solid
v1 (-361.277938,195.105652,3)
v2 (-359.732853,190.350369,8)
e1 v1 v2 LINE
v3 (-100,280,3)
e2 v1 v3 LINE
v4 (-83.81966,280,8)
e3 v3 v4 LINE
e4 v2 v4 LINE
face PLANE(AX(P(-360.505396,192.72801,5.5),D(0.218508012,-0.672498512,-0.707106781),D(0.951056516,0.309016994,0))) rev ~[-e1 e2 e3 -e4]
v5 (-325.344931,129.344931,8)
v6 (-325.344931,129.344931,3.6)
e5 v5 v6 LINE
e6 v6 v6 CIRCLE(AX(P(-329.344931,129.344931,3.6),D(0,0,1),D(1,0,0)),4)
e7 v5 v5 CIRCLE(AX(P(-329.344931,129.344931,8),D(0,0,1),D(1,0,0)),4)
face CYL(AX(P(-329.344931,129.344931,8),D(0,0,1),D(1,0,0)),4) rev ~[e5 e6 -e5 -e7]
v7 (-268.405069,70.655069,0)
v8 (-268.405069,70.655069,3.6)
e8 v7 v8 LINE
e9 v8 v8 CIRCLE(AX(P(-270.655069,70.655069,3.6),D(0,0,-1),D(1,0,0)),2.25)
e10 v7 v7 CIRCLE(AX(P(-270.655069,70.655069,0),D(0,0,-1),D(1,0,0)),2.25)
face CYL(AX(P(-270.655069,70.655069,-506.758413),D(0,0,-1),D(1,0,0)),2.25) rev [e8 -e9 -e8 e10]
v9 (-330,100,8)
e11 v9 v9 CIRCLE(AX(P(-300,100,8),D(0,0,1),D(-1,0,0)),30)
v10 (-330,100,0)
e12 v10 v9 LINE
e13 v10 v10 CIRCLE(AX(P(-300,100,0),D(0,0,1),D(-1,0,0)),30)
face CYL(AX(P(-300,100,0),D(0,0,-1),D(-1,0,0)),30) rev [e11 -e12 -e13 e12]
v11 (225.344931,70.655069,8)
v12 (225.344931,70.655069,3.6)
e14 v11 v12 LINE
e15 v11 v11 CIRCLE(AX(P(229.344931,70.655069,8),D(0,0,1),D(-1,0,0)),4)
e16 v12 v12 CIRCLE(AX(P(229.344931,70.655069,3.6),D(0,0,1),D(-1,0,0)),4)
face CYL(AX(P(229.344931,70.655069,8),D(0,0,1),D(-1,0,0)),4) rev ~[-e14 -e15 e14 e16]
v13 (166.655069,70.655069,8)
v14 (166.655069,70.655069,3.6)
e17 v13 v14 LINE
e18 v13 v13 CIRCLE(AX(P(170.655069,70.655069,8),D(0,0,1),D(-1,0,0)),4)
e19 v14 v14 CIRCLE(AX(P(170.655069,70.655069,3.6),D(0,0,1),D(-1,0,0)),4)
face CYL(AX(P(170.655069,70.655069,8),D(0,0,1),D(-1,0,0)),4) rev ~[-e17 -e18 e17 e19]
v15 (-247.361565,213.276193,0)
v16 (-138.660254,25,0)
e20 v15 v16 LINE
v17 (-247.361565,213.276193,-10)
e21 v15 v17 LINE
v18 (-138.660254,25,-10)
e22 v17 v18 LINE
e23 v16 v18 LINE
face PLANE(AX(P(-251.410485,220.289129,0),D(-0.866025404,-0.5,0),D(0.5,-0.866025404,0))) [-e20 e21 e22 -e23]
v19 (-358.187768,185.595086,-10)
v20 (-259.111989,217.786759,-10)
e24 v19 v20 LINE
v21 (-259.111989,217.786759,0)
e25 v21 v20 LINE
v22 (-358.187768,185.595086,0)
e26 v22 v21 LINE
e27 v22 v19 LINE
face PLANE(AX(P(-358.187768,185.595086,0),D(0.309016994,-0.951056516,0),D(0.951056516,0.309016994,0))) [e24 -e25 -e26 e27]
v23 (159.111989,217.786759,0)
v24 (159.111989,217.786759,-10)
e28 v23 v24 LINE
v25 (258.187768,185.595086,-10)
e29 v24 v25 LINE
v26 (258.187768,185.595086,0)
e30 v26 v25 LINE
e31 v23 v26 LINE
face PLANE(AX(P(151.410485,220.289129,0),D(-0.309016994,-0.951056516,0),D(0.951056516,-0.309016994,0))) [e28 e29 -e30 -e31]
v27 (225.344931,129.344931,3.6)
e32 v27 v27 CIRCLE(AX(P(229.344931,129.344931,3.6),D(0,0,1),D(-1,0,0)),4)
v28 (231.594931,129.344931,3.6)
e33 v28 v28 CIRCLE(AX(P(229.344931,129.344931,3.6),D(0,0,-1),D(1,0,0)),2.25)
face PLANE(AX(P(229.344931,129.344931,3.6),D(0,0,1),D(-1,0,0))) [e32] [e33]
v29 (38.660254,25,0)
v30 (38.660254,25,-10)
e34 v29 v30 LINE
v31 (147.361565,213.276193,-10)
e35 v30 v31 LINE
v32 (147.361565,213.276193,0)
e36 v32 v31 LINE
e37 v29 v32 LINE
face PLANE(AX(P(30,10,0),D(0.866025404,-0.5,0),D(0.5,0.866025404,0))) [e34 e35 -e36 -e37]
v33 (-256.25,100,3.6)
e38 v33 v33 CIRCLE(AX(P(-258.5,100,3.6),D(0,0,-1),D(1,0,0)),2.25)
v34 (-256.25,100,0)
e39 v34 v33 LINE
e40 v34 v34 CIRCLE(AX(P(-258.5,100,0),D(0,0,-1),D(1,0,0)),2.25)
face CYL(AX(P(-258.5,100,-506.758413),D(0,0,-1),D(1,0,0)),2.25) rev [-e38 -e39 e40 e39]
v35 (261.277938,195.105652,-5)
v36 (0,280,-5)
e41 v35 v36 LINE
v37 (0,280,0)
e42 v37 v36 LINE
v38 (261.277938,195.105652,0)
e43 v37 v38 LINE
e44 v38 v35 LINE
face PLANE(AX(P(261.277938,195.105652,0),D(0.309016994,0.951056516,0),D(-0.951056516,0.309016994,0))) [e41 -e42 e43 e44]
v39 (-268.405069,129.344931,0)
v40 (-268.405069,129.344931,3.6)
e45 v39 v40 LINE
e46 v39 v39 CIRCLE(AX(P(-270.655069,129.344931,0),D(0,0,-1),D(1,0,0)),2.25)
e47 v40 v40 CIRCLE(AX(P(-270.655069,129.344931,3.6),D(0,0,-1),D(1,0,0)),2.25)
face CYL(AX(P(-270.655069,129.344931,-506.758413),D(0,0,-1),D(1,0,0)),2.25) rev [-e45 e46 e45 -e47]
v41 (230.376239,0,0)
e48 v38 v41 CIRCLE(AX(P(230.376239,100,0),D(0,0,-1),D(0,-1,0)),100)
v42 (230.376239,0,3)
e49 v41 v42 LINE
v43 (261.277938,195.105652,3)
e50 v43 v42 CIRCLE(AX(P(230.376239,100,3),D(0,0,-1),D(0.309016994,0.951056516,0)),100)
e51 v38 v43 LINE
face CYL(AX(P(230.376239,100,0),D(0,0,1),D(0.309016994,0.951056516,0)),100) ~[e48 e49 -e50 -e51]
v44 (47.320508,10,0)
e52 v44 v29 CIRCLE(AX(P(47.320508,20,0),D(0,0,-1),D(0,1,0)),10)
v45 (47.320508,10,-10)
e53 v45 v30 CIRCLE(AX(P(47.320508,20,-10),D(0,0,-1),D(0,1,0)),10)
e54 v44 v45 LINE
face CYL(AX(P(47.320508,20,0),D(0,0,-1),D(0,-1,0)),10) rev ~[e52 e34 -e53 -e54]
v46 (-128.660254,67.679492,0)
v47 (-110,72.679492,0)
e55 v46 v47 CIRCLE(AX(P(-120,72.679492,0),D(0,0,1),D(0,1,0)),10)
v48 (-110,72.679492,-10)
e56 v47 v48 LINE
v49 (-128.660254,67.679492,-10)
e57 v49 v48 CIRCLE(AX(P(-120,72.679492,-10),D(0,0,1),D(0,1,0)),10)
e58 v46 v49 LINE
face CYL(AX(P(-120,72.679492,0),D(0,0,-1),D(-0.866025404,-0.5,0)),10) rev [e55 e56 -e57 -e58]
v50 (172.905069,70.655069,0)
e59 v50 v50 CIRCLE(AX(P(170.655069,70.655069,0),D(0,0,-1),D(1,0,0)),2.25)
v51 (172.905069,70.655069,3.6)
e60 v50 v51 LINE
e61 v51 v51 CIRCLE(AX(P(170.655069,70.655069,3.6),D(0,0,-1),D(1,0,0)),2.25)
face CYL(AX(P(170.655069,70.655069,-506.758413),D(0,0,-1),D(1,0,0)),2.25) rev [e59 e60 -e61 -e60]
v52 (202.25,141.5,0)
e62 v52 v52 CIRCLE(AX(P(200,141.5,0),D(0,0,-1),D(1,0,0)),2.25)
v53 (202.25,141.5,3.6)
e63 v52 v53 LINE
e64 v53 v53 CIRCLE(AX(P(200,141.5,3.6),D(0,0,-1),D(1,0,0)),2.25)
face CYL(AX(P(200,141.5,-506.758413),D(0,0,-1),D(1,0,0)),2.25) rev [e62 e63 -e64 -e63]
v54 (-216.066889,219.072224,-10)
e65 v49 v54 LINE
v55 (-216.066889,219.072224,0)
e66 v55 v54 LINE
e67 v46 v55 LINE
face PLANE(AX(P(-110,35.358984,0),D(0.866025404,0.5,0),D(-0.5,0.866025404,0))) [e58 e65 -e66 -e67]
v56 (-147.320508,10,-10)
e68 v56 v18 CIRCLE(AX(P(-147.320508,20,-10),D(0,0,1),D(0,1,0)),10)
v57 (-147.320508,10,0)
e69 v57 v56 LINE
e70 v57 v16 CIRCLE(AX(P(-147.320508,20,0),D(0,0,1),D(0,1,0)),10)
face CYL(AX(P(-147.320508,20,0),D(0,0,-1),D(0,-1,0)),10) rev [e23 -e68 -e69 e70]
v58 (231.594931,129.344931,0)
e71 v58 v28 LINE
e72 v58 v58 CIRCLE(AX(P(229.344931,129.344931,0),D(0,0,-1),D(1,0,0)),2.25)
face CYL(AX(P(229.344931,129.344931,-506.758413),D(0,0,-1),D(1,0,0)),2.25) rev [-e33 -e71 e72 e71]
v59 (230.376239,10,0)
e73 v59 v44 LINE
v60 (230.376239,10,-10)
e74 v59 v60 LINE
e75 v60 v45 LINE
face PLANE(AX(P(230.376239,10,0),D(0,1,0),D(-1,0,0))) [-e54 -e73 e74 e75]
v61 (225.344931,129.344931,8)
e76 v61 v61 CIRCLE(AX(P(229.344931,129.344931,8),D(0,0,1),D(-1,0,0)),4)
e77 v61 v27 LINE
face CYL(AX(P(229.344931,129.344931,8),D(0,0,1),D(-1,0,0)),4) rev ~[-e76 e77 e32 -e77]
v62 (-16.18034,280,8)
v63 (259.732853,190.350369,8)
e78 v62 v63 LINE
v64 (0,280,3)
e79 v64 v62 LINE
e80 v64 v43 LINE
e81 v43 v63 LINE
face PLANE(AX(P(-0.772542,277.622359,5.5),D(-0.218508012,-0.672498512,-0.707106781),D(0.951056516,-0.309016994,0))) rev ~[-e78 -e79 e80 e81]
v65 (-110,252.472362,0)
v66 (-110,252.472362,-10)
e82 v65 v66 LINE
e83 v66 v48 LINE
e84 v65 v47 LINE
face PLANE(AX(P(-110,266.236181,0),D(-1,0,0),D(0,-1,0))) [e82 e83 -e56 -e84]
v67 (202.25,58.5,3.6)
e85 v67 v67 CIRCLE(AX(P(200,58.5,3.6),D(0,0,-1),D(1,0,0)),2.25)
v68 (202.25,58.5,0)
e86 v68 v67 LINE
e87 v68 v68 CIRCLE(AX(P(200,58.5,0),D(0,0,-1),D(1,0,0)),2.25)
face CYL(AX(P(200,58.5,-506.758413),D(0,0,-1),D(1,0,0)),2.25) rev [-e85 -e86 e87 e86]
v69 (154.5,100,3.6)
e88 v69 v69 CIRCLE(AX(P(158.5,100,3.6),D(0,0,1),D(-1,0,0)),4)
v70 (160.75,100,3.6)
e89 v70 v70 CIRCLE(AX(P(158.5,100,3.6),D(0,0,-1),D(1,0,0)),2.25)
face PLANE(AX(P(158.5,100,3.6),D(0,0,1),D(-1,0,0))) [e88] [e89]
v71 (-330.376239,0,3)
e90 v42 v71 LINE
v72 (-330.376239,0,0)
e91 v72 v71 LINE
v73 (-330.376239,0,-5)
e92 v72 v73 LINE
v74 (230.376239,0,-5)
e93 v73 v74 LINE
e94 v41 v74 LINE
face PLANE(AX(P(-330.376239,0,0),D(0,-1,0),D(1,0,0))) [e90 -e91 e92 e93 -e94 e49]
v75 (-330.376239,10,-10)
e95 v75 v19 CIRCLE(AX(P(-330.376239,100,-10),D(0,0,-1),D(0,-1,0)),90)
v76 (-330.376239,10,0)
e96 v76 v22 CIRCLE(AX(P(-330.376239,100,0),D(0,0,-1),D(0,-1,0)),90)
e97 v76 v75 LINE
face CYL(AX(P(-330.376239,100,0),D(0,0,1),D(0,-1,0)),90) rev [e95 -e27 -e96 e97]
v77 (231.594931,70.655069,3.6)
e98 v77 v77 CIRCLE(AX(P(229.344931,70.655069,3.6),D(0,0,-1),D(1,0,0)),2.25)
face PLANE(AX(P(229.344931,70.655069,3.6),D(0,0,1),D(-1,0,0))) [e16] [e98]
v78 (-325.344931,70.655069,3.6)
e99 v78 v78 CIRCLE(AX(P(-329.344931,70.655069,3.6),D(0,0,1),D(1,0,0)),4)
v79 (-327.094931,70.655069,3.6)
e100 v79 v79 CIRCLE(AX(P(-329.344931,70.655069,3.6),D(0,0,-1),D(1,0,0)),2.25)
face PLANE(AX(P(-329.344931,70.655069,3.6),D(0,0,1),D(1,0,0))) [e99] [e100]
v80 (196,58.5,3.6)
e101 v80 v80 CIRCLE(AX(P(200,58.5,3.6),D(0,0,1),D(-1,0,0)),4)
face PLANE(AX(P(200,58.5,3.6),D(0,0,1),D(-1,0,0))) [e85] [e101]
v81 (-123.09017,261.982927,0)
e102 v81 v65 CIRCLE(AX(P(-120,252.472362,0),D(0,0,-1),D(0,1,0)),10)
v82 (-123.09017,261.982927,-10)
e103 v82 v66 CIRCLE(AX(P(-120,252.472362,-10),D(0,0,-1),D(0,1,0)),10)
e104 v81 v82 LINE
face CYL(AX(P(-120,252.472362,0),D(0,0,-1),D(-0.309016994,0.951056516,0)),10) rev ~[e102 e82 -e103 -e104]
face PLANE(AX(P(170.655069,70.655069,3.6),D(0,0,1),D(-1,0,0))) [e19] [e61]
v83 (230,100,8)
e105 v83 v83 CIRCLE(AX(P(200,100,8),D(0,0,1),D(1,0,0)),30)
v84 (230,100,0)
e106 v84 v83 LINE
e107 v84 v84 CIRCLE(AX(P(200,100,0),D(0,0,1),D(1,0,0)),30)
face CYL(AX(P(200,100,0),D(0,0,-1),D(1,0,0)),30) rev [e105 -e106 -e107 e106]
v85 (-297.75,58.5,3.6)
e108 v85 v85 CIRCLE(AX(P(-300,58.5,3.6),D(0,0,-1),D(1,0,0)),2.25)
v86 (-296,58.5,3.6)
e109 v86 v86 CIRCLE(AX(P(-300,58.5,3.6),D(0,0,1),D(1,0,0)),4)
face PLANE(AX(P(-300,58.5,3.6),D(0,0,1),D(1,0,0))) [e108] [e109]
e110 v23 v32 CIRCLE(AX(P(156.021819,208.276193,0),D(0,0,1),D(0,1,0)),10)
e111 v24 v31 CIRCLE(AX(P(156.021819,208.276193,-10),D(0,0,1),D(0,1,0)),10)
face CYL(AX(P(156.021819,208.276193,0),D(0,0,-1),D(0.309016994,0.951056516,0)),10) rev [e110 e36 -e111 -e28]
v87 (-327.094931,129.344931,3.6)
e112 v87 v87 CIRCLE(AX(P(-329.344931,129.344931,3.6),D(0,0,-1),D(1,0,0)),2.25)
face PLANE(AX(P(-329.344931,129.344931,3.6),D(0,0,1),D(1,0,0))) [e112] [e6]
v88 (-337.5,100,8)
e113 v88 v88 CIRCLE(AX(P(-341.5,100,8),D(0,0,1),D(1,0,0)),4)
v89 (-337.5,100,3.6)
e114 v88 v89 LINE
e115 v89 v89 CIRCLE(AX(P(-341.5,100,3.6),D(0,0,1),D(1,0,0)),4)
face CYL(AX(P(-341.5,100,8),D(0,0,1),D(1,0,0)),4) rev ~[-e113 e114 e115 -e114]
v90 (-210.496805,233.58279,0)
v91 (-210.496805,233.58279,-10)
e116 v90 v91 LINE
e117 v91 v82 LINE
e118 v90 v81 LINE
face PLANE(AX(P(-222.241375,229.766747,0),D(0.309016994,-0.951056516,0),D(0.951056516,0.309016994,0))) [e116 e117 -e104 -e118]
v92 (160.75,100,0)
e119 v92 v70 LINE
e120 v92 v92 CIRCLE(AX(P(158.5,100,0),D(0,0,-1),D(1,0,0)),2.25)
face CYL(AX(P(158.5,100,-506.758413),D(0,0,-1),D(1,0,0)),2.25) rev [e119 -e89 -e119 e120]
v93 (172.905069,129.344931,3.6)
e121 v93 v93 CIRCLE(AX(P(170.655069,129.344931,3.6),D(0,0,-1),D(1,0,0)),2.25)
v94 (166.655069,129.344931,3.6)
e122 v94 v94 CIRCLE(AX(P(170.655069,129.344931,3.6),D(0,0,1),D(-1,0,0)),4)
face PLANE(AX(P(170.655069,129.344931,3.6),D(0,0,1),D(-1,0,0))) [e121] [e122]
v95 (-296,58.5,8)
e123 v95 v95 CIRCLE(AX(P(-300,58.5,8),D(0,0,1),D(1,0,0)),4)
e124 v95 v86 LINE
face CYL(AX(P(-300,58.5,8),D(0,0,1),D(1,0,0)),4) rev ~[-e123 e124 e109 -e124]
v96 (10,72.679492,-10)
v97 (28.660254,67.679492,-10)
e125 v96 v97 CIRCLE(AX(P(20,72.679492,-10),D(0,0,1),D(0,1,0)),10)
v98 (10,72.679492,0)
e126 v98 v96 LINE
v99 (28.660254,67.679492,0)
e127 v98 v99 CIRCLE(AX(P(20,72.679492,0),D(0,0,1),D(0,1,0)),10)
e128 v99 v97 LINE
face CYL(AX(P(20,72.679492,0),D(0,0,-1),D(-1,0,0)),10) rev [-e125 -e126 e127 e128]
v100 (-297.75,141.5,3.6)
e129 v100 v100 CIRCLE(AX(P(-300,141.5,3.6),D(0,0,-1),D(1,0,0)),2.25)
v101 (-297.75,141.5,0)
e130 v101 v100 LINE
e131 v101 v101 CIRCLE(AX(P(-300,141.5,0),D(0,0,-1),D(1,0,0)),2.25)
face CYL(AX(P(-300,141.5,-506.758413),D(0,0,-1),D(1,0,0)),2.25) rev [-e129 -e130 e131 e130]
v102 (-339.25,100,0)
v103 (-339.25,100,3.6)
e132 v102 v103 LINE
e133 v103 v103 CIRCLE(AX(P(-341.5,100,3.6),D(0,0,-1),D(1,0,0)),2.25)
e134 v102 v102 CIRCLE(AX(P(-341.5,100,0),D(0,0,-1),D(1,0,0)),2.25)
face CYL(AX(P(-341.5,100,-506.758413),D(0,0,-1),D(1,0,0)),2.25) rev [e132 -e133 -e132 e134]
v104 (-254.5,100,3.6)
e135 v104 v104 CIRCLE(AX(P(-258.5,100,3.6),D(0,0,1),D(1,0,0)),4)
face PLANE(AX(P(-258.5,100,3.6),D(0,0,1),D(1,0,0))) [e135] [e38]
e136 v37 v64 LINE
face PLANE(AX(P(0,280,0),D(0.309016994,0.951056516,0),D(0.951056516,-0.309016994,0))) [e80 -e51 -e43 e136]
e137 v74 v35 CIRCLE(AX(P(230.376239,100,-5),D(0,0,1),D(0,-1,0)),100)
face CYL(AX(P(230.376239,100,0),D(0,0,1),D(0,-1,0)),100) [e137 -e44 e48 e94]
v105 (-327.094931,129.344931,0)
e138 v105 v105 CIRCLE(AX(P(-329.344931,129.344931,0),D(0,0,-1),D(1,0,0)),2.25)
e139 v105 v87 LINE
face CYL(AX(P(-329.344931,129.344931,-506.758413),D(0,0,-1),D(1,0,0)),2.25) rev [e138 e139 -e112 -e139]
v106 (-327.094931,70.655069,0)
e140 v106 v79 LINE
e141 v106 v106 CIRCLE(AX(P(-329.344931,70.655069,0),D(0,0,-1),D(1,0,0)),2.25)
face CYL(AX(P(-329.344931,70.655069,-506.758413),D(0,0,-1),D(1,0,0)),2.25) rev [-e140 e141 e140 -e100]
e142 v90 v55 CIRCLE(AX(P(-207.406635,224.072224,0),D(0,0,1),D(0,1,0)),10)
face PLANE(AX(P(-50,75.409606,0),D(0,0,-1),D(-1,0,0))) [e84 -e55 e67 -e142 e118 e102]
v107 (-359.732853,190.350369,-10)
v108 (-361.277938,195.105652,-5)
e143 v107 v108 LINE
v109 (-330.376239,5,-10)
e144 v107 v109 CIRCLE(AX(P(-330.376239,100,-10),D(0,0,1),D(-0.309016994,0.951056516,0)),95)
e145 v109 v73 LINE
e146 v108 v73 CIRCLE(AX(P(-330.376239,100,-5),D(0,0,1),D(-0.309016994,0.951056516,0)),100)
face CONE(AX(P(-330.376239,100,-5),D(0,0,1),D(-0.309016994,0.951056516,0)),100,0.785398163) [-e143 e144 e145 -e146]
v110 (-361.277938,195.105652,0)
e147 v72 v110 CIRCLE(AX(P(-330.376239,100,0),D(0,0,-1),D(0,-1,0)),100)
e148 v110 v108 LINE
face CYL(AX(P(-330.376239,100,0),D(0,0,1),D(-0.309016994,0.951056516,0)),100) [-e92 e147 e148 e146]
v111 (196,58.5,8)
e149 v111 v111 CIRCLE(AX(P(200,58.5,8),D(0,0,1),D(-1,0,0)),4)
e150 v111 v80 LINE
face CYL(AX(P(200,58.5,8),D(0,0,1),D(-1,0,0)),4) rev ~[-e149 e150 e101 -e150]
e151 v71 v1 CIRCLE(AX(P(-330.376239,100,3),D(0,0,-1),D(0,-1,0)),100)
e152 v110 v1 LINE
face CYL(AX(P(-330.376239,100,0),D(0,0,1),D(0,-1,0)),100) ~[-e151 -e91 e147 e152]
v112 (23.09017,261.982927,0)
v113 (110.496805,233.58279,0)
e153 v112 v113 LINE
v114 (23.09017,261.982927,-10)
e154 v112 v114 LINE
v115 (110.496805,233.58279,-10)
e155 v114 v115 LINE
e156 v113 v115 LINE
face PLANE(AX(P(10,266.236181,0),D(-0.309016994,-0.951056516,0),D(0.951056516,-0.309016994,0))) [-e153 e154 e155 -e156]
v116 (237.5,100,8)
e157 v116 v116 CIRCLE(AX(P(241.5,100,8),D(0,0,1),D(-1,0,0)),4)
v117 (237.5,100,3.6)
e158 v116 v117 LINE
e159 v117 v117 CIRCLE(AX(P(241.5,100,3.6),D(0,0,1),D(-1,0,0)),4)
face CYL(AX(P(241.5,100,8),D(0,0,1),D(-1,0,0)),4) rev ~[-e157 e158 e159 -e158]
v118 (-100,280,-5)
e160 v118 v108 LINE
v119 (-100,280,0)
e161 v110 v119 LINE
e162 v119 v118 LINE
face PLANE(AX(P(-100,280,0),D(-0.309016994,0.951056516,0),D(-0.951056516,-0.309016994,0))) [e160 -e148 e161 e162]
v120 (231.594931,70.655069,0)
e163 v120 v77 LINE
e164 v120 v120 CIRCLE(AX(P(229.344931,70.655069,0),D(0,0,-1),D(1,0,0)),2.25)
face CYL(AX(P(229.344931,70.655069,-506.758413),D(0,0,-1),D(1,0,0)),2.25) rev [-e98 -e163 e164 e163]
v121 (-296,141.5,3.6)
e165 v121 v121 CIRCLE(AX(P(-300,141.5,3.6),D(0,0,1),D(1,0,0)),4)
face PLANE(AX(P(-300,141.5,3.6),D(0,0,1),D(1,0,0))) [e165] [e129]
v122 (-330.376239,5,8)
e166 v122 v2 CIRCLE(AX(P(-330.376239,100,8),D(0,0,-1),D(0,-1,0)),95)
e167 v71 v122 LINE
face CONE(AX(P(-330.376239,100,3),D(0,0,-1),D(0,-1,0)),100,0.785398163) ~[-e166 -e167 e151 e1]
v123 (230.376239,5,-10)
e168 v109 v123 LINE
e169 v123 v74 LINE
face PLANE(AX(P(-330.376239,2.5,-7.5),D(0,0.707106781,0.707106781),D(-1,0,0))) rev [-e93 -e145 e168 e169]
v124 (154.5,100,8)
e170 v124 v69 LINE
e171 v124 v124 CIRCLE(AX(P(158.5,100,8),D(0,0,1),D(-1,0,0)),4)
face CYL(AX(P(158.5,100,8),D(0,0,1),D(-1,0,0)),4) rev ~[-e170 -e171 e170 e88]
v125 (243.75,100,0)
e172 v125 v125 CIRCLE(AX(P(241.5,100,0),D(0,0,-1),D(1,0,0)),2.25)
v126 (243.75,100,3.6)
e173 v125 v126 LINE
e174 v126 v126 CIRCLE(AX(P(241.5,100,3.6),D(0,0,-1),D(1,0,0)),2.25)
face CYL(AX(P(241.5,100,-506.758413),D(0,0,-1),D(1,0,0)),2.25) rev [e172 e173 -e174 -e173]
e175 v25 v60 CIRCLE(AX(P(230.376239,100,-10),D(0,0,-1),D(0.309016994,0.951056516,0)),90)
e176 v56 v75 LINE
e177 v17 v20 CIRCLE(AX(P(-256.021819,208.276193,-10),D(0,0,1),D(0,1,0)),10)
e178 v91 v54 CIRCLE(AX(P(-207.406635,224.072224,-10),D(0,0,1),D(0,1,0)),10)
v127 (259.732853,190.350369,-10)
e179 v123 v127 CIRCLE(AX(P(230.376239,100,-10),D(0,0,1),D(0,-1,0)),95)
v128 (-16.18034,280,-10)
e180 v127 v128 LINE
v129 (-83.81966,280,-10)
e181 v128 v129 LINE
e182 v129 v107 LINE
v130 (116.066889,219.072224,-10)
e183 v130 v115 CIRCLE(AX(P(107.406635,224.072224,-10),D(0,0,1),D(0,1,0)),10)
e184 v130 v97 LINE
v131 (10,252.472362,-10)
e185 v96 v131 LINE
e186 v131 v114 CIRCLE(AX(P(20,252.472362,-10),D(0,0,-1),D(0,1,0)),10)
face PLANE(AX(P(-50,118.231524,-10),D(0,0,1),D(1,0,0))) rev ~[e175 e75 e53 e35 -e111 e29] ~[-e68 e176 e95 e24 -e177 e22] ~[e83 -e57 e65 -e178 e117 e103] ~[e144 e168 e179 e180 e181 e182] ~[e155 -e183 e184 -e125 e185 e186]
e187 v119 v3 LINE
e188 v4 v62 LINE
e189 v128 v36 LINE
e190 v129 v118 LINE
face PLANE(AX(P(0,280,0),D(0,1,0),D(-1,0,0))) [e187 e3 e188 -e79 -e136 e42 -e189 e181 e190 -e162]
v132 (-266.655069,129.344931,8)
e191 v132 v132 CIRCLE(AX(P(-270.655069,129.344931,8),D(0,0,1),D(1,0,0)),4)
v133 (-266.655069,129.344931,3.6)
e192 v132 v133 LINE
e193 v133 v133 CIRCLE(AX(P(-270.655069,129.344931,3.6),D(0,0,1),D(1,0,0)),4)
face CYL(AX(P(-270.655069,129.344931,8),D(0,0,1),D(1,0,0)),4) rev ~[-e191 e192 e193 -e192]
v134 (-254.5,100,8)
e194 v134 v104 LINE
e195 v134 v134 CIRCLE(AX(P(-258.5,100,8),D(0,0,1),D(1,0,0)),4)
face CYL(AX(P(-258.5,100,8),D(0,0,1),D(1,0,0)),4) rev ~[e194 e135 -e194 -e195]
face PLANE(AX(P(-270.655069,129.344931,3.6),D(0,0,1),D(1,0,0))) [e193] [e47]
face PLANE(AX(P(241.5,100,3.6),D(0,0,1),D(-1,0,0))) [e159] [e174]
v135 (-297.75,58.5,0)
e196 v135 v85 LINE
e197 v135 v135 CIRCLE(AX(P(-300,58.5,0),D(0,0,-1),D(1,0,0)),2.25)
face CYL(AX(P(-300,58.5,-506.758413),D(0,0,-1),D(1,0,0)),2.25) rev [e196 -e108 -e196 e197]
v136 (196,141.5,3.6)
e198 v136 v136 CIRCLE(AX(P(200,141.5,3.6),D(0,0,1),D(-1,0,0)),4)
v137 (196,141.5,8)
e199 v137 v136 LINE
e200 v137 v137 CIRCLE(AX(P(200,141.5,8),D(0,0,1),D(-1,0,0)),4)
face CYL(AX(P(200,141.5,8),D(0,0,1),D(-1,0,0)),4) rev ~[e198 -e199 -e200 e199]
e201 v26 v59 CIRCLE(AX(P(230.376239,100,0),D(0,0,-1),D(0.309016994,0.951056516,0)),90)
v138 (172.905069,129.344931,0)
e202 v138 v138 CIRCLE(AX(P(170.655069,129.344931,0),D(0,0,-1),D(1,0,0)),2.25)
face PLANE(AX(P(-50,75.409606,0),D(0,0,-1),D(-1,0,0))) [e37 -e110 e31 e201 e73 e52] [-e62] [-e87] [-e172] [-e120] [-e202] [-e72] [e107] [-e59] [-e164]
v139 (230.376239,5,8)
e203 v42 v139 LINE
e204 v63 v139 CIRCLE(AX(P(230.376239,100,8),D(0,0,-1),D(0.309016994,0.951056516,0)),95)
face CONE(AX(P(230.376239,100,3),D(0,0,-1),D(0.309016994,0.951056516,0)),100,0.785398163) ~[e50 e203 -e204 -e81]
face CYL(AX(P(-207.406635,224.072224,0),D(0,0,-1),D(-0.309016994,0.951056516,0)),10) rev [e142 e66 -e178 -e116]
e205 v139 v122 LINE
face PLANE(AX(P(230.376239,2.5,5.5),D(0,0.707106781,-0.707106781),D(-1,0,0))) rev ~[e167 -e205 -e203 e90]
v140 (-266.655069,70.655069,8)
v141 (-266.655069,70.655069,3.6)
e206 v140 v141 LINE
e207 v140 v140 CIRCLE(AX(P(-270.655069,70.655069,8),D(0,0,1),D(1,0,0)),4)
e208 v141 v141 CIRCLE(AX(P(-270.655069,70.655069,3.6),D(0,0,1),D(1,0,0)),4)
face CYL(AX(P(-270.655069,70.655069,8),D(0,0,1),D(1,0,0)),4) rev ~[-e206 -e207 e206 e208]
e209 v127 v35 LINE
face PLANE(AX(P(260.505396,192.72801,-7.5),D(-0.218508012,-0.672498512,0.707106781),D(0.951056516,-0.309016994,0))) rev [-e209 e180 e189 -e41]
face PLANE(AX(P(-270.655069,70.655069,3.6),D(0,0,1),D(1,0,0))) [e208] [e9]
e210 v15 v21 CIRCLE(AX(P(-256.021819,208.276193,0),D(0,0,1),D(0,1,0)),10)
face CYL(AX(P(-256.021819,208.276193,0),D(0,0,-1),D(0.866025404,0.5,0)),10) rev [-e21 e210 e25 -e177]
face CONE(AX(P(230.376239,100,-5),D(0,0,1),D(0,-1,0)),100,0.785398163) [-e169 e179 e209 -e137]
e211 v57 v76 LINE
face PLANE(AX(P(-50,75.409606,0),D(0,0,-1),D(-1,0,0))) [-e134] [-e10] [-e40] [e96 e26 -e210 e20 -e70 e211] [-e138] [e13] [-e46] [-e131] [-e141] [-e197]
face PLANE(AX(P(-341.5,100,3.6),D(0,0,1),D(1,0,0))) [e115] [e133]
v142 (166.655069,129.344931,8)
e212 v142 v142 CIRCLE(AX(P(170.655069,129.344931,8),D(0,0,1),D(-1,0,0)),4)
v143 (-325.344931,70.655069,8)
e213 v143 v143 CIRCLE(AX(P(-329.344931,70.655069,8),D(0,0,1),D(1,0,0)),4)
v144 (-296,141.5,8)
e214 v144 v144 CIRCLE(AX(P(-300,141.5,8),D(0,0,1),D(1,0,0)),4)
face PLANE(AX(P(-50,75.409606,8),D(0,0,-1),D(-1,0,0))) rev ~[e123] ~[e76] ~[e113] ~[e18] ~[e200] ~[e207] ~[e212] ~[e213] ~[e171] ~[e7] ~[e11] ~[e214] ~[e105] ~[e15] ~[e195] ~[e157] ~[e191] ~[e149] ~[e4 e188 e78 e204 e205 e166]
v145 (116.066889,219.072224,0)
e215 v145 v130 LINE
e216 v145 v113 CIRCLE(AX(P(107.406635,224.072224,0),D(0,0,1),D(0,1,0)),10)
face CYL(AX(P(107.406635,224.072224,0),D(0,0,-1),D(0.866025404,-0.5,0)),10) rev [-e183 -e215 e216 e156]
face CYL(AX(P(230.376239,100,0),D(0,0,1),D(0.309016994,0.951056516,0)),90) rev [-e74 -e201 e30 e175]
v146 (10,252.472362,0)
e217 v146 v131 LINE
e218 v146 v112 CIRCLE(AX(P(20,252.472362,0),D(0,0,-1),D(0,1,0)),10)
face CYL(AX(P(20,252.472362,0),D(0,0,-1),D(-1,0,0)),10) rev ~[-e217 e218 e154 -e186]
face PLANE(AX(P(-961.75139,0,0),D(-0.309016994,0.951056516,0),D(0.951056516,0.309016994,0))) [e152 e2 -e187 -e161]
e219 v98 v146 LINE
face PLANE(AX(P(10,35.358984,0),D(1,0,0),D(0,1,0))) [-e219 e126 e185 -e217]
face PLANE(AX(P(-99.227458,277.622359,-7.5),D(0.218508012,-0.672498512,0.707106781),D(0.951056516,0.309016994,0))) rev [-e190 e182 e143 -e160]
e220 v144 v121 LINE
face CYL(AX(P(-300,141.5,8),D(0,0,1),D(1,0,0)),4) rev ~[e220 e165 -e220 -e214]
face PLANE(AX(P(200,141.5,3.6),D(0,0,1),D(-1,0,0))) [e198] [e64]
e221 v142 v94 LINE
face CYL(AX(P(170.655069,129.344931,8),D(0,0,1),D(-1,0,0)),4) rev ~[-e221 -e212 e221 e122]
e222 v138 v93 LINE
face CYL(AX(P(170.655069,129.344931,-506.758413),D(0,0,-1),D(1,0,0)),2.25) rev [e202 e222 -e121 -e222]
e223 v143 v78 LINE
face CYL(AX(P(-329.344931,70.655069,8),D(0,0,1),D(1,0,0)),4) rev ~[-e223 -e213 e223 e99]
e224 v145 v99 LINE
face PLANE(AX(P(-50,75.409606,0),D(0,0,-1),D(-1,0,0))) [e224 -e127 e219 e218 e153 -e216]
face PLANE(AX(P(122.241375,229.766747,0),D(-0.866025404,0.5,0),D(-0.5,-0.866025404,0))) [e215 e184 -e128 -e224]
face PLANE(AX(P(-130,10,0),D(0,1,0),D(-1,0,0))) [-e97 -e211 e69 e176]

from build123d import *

# Parameters (mm, degrees)
SKETCH_1_R               = 30
EXTRUDE_1_DEPTH          = 8
FILLET_1_R               = 100
FILLET_3_R               = 100
EXTRUDE_2_DEPTH          = 10
FILLET_2_R               = 10
CHAMFER_1_SIZE           = 5
CUT_EXTRUDE_5_DEPTH      = 514.758413114
CUT_EXTRUDE_5_DEPTH_BACK = 514.758413114
SKETCH_8_R               = 2.25
SKETCH_9_R               = 4
CUT_EXTRUDE_6_DEPTH      = 4.4


with BuildPart() as part:
    # 草图1 → 凸台-拉伸1 (new body)
    with BuildSketch(Plane.XY):
        Polygon((0, 280), (861.751390409, 0), (0, 0), (-100, 0), (-961.751390409, 0), (-100, 280), align=None)
        with Locations((200, 100)):
            Circle(SKETCH_1_R, mode=Mode.SUBTRACT)
        with Locations(Location((-300, 100, 0), (0, 0, 180))):
            Circle(SKETCH_1_R, mode=Mode.SUBTRACT)
    extrude(amount=EXTRUDE_1_DEPTH)

    # 圆角1
    fillet_1_edges = [part.edges().sort_by_distance(p)[0] for p in [
        (861.751390409, 0, 4),
    ]]
    fillet(fillet_1_edges, radius=FILLET_1_R)

    # 圆角3
    fillet_3_edges = [part.edges().sort_by_distance(p)[0] for p in [
        (-961.751390409, 0, 4),
    ]]
    fillet(fillet_3_edges, radius=FILLET_3_R)

    # 草图2 → 凸台-拉伸2 (add)
    with BuildSketch(Plane.XY):
        with BuildLine():
            Line((0, 280), (-100, 280))
            Line((-100, 280), (-361.277938379, 195.10565163))
            ThreePointArc((-361.277938379, 195.10565163), (-429.145073001, 84.356553496), (-330.376238942, 0))
            Line((-330.376238942, 0), (230.376238942, 0))
            ThreePointArc((230.376238942, 0), (329.145073001, 84.356553496), (261.277938379, 195.10565163))
            Line((261.277938379, 195.10565163), (0, 280))
        make_face()
        Polygon((10, 266.236180795), (122.241374643, 229.766747442), (10, 35.358983849), align=None, mode=Mode.SUBTRACT)
        with BuildLine():
            Line((230.376238942, 10), (30, 10))
            Line((30, 10), (151.410485182, 220.289128906))
            Line((151.410485182, 220.289128906), (258.187768435, 185.595086467))
            ThreePointArc((258.187768435, 185.595086467), (319.268189595, 85.920898146), (230.376238942, 10))
        make_face(mode=Mode.SUBTRACT)
        Polygon((-110, 266.236180795), (-110, 35.358983849), (-222.241374643, 229.766747442), align=None, mode=Mode.SUBTRACT)
        with BuildLine():
            Line((-358.187768435, 185.595086467), (-251.410485182, 220.289128906))
            Line((-251.410485182, 220.289128906), (-130, 10))
            Line((-130, 10), (-330.376238942, 10))
            ThreePointArc((-330.376238942, 10), (-419.268189595, 85.920898146), (-358.187768435, 185.595086467))
        make_face(mode=Mode.SUBTRACT)
    extrude(amount=-EXTRUDE_2_DEPTH)

    # 圆角2
    fillet_2_edges = [part.edges().sort_by_distance(p)[0] for p in [
        (-110, 35.358983849, -5),
        (-110, 266.236180795, -5),
        (-130, 10, -5),
        (10, 266.236180795, -5),
        (10, 35.358983849, -5),
        (151.410485182, 220.289128906, -5),
        (30, 10, -5),
        (-251.410485182, 220.289128906, -5),
        (122.241374643, 229.766747442, -5),
        (-222.241374643, 229.766747442, -5),
    ]]
    fillet(fillet_2_edges, radius=FILLET_2_R)

    # 倒角1
    chamfer_1_edges = [part.edges().sort_by_distance(p)[0] for p in [
        (-230.63896919, 237.552825815, 8),
        (130.63896919, 237.552825815, 8),
        (329.145073001, 84.356553496, 8),
        (-50, 0, 8),
        (-429.145073001, 84.356553496, 8),
        (-230.63896919, 237.552825815, -10),
        (130.63896919, 237.552825815, -10),
        (329.145073001, 84.356553496, -10),
        (-50, 0, -10),
        (-429.145073001, 84.356553496, -10),
    ]]
    chamfer(chamfer_1_edges, length=CHAMFER_1_SIZE)

    # 草图8 → 切除-拉伸5 (cut, two sides: drawn at the far end of the back side and taken through both)
    with BuildSketch(Plane.XY.offset(8).offset(-CUT_EXTRUDE_5_DEPTH_BACK)):
        with Locations((200, 141.5)):
            Circle(SKETCH_8_R)
        with Locations((229.344931419, 129.344931419)):
            Circle(SKETCH_8_R)
        with Locations((241.5, 100)):
            Circle(SKETCH_8_R)
        with Locations((229.344931419, 70.655068581)):
            Circle(SKETCH_8_R)
        with Locations((200, 58.5)):
            Circle(SKETCH_8_R)
        with Locations((170.655068581, 70.655068581)):
            Circle(SKETCH_8_R)
        with Locations((158.5, 100)):
            Circle(SKETCH_8_R)
        with Locations((170.655068581, 129.344931419)):
            Circle(SKETCH_8_R)
        with Locations((-270.655068581, 129.344931419)):
            Circle(SKETCH_8_R)
        with Locations((-258.5, 100)):
            Circle(SKETCH_8_R)
        with Locations((-270.655068581, 70.655068581)):
            Circle(SKETCH_8_R)
        with Locations((-300, 58.5)):
            Circle(SKETCH_8_R)
        with Locations((-329.344931419, 70.655068581)):
            Circle(SKETCH_8_R)
        with Locations((-341.5, 100)):
            Circle(SKETCH_8_R)
        with Locations((-329.344931419, 129.344931419)):
            Circle(SKETCH_8_R)
        with Locations((-300, 141.5)):
            Circle(SKETCH_8_R)
    extrude(amount=CUT_EXTRUDE_5_DEPTH + CUT_EXTRUDE_5_DEPTH_BACK, mode=Mode.SUBTRACT)

    # 草图9 → 切除-拉伸6 (cut)
    with BuildSketch(Plane.XY.offset(8)):
        with Locations((-300, 141.5)):
            Circle(SKETCH_9_R)
        with Locations((-270.655068581, 129.344931419)):
            Circle(SKETCH_9_R)
        with Locations((-258.5, 100)):
            Circle(SKETCH_9_R)
        with Locations((-270.655068581, 70.655068581)):
            Circle(SKETCH_9_R)
        with Locations((-300, 58.5)):
            Circle(SKETCH_9_R)
        with Locations((-329.344931419, 70.655068581)):
            Circle(SKETCH_9_R)
        with Locations((-341.5, 100)):
            Circle(SKETCH_9_R)
        with Locations((-329.344931419, 129.344931419)):
            Circle(SKETCH_9_R)
        with Locations(Location((229.344931419, 129.344931419, 0), (0, 0, 180))):
            Circle(SKETCH_9_R)
        with Locations(Location((241.5, 100, 0), (0, 0, 180))):
            Circle(SKETCH_9_R)
        with Locations(Location((229.344931419, 70.655068581, 0), (0, 0, 180))):
            Circle(SKETCH_9_R)
        with Locations(Location((200, 58.5, 0), (0, 0, 180))):
            Circle(SKETCH_9_R)
        with Locations(Location((170.655068581, 70.655068581, 0), (0, 0, 180))):
            Circle(SKETCH_9_R)
        with Locations(Location((158.5, 100, 0), (0, 0, 180))):
            Circle(SKETCH_9_R)
        with Locations(Location((170.655068581, 129.344931419, 0), (0, 0, 180))):
            Circle(SKETCH_9_R)
        with Locations(Location((200, 141.5, 0), (0, 0, 180))):
            Circle(SKETCH_9_R)
    extrude(amount=-CUT_EXTRUDE_6_DEPTH, mode=Mode.SUBTRACT)


solid = part.part
